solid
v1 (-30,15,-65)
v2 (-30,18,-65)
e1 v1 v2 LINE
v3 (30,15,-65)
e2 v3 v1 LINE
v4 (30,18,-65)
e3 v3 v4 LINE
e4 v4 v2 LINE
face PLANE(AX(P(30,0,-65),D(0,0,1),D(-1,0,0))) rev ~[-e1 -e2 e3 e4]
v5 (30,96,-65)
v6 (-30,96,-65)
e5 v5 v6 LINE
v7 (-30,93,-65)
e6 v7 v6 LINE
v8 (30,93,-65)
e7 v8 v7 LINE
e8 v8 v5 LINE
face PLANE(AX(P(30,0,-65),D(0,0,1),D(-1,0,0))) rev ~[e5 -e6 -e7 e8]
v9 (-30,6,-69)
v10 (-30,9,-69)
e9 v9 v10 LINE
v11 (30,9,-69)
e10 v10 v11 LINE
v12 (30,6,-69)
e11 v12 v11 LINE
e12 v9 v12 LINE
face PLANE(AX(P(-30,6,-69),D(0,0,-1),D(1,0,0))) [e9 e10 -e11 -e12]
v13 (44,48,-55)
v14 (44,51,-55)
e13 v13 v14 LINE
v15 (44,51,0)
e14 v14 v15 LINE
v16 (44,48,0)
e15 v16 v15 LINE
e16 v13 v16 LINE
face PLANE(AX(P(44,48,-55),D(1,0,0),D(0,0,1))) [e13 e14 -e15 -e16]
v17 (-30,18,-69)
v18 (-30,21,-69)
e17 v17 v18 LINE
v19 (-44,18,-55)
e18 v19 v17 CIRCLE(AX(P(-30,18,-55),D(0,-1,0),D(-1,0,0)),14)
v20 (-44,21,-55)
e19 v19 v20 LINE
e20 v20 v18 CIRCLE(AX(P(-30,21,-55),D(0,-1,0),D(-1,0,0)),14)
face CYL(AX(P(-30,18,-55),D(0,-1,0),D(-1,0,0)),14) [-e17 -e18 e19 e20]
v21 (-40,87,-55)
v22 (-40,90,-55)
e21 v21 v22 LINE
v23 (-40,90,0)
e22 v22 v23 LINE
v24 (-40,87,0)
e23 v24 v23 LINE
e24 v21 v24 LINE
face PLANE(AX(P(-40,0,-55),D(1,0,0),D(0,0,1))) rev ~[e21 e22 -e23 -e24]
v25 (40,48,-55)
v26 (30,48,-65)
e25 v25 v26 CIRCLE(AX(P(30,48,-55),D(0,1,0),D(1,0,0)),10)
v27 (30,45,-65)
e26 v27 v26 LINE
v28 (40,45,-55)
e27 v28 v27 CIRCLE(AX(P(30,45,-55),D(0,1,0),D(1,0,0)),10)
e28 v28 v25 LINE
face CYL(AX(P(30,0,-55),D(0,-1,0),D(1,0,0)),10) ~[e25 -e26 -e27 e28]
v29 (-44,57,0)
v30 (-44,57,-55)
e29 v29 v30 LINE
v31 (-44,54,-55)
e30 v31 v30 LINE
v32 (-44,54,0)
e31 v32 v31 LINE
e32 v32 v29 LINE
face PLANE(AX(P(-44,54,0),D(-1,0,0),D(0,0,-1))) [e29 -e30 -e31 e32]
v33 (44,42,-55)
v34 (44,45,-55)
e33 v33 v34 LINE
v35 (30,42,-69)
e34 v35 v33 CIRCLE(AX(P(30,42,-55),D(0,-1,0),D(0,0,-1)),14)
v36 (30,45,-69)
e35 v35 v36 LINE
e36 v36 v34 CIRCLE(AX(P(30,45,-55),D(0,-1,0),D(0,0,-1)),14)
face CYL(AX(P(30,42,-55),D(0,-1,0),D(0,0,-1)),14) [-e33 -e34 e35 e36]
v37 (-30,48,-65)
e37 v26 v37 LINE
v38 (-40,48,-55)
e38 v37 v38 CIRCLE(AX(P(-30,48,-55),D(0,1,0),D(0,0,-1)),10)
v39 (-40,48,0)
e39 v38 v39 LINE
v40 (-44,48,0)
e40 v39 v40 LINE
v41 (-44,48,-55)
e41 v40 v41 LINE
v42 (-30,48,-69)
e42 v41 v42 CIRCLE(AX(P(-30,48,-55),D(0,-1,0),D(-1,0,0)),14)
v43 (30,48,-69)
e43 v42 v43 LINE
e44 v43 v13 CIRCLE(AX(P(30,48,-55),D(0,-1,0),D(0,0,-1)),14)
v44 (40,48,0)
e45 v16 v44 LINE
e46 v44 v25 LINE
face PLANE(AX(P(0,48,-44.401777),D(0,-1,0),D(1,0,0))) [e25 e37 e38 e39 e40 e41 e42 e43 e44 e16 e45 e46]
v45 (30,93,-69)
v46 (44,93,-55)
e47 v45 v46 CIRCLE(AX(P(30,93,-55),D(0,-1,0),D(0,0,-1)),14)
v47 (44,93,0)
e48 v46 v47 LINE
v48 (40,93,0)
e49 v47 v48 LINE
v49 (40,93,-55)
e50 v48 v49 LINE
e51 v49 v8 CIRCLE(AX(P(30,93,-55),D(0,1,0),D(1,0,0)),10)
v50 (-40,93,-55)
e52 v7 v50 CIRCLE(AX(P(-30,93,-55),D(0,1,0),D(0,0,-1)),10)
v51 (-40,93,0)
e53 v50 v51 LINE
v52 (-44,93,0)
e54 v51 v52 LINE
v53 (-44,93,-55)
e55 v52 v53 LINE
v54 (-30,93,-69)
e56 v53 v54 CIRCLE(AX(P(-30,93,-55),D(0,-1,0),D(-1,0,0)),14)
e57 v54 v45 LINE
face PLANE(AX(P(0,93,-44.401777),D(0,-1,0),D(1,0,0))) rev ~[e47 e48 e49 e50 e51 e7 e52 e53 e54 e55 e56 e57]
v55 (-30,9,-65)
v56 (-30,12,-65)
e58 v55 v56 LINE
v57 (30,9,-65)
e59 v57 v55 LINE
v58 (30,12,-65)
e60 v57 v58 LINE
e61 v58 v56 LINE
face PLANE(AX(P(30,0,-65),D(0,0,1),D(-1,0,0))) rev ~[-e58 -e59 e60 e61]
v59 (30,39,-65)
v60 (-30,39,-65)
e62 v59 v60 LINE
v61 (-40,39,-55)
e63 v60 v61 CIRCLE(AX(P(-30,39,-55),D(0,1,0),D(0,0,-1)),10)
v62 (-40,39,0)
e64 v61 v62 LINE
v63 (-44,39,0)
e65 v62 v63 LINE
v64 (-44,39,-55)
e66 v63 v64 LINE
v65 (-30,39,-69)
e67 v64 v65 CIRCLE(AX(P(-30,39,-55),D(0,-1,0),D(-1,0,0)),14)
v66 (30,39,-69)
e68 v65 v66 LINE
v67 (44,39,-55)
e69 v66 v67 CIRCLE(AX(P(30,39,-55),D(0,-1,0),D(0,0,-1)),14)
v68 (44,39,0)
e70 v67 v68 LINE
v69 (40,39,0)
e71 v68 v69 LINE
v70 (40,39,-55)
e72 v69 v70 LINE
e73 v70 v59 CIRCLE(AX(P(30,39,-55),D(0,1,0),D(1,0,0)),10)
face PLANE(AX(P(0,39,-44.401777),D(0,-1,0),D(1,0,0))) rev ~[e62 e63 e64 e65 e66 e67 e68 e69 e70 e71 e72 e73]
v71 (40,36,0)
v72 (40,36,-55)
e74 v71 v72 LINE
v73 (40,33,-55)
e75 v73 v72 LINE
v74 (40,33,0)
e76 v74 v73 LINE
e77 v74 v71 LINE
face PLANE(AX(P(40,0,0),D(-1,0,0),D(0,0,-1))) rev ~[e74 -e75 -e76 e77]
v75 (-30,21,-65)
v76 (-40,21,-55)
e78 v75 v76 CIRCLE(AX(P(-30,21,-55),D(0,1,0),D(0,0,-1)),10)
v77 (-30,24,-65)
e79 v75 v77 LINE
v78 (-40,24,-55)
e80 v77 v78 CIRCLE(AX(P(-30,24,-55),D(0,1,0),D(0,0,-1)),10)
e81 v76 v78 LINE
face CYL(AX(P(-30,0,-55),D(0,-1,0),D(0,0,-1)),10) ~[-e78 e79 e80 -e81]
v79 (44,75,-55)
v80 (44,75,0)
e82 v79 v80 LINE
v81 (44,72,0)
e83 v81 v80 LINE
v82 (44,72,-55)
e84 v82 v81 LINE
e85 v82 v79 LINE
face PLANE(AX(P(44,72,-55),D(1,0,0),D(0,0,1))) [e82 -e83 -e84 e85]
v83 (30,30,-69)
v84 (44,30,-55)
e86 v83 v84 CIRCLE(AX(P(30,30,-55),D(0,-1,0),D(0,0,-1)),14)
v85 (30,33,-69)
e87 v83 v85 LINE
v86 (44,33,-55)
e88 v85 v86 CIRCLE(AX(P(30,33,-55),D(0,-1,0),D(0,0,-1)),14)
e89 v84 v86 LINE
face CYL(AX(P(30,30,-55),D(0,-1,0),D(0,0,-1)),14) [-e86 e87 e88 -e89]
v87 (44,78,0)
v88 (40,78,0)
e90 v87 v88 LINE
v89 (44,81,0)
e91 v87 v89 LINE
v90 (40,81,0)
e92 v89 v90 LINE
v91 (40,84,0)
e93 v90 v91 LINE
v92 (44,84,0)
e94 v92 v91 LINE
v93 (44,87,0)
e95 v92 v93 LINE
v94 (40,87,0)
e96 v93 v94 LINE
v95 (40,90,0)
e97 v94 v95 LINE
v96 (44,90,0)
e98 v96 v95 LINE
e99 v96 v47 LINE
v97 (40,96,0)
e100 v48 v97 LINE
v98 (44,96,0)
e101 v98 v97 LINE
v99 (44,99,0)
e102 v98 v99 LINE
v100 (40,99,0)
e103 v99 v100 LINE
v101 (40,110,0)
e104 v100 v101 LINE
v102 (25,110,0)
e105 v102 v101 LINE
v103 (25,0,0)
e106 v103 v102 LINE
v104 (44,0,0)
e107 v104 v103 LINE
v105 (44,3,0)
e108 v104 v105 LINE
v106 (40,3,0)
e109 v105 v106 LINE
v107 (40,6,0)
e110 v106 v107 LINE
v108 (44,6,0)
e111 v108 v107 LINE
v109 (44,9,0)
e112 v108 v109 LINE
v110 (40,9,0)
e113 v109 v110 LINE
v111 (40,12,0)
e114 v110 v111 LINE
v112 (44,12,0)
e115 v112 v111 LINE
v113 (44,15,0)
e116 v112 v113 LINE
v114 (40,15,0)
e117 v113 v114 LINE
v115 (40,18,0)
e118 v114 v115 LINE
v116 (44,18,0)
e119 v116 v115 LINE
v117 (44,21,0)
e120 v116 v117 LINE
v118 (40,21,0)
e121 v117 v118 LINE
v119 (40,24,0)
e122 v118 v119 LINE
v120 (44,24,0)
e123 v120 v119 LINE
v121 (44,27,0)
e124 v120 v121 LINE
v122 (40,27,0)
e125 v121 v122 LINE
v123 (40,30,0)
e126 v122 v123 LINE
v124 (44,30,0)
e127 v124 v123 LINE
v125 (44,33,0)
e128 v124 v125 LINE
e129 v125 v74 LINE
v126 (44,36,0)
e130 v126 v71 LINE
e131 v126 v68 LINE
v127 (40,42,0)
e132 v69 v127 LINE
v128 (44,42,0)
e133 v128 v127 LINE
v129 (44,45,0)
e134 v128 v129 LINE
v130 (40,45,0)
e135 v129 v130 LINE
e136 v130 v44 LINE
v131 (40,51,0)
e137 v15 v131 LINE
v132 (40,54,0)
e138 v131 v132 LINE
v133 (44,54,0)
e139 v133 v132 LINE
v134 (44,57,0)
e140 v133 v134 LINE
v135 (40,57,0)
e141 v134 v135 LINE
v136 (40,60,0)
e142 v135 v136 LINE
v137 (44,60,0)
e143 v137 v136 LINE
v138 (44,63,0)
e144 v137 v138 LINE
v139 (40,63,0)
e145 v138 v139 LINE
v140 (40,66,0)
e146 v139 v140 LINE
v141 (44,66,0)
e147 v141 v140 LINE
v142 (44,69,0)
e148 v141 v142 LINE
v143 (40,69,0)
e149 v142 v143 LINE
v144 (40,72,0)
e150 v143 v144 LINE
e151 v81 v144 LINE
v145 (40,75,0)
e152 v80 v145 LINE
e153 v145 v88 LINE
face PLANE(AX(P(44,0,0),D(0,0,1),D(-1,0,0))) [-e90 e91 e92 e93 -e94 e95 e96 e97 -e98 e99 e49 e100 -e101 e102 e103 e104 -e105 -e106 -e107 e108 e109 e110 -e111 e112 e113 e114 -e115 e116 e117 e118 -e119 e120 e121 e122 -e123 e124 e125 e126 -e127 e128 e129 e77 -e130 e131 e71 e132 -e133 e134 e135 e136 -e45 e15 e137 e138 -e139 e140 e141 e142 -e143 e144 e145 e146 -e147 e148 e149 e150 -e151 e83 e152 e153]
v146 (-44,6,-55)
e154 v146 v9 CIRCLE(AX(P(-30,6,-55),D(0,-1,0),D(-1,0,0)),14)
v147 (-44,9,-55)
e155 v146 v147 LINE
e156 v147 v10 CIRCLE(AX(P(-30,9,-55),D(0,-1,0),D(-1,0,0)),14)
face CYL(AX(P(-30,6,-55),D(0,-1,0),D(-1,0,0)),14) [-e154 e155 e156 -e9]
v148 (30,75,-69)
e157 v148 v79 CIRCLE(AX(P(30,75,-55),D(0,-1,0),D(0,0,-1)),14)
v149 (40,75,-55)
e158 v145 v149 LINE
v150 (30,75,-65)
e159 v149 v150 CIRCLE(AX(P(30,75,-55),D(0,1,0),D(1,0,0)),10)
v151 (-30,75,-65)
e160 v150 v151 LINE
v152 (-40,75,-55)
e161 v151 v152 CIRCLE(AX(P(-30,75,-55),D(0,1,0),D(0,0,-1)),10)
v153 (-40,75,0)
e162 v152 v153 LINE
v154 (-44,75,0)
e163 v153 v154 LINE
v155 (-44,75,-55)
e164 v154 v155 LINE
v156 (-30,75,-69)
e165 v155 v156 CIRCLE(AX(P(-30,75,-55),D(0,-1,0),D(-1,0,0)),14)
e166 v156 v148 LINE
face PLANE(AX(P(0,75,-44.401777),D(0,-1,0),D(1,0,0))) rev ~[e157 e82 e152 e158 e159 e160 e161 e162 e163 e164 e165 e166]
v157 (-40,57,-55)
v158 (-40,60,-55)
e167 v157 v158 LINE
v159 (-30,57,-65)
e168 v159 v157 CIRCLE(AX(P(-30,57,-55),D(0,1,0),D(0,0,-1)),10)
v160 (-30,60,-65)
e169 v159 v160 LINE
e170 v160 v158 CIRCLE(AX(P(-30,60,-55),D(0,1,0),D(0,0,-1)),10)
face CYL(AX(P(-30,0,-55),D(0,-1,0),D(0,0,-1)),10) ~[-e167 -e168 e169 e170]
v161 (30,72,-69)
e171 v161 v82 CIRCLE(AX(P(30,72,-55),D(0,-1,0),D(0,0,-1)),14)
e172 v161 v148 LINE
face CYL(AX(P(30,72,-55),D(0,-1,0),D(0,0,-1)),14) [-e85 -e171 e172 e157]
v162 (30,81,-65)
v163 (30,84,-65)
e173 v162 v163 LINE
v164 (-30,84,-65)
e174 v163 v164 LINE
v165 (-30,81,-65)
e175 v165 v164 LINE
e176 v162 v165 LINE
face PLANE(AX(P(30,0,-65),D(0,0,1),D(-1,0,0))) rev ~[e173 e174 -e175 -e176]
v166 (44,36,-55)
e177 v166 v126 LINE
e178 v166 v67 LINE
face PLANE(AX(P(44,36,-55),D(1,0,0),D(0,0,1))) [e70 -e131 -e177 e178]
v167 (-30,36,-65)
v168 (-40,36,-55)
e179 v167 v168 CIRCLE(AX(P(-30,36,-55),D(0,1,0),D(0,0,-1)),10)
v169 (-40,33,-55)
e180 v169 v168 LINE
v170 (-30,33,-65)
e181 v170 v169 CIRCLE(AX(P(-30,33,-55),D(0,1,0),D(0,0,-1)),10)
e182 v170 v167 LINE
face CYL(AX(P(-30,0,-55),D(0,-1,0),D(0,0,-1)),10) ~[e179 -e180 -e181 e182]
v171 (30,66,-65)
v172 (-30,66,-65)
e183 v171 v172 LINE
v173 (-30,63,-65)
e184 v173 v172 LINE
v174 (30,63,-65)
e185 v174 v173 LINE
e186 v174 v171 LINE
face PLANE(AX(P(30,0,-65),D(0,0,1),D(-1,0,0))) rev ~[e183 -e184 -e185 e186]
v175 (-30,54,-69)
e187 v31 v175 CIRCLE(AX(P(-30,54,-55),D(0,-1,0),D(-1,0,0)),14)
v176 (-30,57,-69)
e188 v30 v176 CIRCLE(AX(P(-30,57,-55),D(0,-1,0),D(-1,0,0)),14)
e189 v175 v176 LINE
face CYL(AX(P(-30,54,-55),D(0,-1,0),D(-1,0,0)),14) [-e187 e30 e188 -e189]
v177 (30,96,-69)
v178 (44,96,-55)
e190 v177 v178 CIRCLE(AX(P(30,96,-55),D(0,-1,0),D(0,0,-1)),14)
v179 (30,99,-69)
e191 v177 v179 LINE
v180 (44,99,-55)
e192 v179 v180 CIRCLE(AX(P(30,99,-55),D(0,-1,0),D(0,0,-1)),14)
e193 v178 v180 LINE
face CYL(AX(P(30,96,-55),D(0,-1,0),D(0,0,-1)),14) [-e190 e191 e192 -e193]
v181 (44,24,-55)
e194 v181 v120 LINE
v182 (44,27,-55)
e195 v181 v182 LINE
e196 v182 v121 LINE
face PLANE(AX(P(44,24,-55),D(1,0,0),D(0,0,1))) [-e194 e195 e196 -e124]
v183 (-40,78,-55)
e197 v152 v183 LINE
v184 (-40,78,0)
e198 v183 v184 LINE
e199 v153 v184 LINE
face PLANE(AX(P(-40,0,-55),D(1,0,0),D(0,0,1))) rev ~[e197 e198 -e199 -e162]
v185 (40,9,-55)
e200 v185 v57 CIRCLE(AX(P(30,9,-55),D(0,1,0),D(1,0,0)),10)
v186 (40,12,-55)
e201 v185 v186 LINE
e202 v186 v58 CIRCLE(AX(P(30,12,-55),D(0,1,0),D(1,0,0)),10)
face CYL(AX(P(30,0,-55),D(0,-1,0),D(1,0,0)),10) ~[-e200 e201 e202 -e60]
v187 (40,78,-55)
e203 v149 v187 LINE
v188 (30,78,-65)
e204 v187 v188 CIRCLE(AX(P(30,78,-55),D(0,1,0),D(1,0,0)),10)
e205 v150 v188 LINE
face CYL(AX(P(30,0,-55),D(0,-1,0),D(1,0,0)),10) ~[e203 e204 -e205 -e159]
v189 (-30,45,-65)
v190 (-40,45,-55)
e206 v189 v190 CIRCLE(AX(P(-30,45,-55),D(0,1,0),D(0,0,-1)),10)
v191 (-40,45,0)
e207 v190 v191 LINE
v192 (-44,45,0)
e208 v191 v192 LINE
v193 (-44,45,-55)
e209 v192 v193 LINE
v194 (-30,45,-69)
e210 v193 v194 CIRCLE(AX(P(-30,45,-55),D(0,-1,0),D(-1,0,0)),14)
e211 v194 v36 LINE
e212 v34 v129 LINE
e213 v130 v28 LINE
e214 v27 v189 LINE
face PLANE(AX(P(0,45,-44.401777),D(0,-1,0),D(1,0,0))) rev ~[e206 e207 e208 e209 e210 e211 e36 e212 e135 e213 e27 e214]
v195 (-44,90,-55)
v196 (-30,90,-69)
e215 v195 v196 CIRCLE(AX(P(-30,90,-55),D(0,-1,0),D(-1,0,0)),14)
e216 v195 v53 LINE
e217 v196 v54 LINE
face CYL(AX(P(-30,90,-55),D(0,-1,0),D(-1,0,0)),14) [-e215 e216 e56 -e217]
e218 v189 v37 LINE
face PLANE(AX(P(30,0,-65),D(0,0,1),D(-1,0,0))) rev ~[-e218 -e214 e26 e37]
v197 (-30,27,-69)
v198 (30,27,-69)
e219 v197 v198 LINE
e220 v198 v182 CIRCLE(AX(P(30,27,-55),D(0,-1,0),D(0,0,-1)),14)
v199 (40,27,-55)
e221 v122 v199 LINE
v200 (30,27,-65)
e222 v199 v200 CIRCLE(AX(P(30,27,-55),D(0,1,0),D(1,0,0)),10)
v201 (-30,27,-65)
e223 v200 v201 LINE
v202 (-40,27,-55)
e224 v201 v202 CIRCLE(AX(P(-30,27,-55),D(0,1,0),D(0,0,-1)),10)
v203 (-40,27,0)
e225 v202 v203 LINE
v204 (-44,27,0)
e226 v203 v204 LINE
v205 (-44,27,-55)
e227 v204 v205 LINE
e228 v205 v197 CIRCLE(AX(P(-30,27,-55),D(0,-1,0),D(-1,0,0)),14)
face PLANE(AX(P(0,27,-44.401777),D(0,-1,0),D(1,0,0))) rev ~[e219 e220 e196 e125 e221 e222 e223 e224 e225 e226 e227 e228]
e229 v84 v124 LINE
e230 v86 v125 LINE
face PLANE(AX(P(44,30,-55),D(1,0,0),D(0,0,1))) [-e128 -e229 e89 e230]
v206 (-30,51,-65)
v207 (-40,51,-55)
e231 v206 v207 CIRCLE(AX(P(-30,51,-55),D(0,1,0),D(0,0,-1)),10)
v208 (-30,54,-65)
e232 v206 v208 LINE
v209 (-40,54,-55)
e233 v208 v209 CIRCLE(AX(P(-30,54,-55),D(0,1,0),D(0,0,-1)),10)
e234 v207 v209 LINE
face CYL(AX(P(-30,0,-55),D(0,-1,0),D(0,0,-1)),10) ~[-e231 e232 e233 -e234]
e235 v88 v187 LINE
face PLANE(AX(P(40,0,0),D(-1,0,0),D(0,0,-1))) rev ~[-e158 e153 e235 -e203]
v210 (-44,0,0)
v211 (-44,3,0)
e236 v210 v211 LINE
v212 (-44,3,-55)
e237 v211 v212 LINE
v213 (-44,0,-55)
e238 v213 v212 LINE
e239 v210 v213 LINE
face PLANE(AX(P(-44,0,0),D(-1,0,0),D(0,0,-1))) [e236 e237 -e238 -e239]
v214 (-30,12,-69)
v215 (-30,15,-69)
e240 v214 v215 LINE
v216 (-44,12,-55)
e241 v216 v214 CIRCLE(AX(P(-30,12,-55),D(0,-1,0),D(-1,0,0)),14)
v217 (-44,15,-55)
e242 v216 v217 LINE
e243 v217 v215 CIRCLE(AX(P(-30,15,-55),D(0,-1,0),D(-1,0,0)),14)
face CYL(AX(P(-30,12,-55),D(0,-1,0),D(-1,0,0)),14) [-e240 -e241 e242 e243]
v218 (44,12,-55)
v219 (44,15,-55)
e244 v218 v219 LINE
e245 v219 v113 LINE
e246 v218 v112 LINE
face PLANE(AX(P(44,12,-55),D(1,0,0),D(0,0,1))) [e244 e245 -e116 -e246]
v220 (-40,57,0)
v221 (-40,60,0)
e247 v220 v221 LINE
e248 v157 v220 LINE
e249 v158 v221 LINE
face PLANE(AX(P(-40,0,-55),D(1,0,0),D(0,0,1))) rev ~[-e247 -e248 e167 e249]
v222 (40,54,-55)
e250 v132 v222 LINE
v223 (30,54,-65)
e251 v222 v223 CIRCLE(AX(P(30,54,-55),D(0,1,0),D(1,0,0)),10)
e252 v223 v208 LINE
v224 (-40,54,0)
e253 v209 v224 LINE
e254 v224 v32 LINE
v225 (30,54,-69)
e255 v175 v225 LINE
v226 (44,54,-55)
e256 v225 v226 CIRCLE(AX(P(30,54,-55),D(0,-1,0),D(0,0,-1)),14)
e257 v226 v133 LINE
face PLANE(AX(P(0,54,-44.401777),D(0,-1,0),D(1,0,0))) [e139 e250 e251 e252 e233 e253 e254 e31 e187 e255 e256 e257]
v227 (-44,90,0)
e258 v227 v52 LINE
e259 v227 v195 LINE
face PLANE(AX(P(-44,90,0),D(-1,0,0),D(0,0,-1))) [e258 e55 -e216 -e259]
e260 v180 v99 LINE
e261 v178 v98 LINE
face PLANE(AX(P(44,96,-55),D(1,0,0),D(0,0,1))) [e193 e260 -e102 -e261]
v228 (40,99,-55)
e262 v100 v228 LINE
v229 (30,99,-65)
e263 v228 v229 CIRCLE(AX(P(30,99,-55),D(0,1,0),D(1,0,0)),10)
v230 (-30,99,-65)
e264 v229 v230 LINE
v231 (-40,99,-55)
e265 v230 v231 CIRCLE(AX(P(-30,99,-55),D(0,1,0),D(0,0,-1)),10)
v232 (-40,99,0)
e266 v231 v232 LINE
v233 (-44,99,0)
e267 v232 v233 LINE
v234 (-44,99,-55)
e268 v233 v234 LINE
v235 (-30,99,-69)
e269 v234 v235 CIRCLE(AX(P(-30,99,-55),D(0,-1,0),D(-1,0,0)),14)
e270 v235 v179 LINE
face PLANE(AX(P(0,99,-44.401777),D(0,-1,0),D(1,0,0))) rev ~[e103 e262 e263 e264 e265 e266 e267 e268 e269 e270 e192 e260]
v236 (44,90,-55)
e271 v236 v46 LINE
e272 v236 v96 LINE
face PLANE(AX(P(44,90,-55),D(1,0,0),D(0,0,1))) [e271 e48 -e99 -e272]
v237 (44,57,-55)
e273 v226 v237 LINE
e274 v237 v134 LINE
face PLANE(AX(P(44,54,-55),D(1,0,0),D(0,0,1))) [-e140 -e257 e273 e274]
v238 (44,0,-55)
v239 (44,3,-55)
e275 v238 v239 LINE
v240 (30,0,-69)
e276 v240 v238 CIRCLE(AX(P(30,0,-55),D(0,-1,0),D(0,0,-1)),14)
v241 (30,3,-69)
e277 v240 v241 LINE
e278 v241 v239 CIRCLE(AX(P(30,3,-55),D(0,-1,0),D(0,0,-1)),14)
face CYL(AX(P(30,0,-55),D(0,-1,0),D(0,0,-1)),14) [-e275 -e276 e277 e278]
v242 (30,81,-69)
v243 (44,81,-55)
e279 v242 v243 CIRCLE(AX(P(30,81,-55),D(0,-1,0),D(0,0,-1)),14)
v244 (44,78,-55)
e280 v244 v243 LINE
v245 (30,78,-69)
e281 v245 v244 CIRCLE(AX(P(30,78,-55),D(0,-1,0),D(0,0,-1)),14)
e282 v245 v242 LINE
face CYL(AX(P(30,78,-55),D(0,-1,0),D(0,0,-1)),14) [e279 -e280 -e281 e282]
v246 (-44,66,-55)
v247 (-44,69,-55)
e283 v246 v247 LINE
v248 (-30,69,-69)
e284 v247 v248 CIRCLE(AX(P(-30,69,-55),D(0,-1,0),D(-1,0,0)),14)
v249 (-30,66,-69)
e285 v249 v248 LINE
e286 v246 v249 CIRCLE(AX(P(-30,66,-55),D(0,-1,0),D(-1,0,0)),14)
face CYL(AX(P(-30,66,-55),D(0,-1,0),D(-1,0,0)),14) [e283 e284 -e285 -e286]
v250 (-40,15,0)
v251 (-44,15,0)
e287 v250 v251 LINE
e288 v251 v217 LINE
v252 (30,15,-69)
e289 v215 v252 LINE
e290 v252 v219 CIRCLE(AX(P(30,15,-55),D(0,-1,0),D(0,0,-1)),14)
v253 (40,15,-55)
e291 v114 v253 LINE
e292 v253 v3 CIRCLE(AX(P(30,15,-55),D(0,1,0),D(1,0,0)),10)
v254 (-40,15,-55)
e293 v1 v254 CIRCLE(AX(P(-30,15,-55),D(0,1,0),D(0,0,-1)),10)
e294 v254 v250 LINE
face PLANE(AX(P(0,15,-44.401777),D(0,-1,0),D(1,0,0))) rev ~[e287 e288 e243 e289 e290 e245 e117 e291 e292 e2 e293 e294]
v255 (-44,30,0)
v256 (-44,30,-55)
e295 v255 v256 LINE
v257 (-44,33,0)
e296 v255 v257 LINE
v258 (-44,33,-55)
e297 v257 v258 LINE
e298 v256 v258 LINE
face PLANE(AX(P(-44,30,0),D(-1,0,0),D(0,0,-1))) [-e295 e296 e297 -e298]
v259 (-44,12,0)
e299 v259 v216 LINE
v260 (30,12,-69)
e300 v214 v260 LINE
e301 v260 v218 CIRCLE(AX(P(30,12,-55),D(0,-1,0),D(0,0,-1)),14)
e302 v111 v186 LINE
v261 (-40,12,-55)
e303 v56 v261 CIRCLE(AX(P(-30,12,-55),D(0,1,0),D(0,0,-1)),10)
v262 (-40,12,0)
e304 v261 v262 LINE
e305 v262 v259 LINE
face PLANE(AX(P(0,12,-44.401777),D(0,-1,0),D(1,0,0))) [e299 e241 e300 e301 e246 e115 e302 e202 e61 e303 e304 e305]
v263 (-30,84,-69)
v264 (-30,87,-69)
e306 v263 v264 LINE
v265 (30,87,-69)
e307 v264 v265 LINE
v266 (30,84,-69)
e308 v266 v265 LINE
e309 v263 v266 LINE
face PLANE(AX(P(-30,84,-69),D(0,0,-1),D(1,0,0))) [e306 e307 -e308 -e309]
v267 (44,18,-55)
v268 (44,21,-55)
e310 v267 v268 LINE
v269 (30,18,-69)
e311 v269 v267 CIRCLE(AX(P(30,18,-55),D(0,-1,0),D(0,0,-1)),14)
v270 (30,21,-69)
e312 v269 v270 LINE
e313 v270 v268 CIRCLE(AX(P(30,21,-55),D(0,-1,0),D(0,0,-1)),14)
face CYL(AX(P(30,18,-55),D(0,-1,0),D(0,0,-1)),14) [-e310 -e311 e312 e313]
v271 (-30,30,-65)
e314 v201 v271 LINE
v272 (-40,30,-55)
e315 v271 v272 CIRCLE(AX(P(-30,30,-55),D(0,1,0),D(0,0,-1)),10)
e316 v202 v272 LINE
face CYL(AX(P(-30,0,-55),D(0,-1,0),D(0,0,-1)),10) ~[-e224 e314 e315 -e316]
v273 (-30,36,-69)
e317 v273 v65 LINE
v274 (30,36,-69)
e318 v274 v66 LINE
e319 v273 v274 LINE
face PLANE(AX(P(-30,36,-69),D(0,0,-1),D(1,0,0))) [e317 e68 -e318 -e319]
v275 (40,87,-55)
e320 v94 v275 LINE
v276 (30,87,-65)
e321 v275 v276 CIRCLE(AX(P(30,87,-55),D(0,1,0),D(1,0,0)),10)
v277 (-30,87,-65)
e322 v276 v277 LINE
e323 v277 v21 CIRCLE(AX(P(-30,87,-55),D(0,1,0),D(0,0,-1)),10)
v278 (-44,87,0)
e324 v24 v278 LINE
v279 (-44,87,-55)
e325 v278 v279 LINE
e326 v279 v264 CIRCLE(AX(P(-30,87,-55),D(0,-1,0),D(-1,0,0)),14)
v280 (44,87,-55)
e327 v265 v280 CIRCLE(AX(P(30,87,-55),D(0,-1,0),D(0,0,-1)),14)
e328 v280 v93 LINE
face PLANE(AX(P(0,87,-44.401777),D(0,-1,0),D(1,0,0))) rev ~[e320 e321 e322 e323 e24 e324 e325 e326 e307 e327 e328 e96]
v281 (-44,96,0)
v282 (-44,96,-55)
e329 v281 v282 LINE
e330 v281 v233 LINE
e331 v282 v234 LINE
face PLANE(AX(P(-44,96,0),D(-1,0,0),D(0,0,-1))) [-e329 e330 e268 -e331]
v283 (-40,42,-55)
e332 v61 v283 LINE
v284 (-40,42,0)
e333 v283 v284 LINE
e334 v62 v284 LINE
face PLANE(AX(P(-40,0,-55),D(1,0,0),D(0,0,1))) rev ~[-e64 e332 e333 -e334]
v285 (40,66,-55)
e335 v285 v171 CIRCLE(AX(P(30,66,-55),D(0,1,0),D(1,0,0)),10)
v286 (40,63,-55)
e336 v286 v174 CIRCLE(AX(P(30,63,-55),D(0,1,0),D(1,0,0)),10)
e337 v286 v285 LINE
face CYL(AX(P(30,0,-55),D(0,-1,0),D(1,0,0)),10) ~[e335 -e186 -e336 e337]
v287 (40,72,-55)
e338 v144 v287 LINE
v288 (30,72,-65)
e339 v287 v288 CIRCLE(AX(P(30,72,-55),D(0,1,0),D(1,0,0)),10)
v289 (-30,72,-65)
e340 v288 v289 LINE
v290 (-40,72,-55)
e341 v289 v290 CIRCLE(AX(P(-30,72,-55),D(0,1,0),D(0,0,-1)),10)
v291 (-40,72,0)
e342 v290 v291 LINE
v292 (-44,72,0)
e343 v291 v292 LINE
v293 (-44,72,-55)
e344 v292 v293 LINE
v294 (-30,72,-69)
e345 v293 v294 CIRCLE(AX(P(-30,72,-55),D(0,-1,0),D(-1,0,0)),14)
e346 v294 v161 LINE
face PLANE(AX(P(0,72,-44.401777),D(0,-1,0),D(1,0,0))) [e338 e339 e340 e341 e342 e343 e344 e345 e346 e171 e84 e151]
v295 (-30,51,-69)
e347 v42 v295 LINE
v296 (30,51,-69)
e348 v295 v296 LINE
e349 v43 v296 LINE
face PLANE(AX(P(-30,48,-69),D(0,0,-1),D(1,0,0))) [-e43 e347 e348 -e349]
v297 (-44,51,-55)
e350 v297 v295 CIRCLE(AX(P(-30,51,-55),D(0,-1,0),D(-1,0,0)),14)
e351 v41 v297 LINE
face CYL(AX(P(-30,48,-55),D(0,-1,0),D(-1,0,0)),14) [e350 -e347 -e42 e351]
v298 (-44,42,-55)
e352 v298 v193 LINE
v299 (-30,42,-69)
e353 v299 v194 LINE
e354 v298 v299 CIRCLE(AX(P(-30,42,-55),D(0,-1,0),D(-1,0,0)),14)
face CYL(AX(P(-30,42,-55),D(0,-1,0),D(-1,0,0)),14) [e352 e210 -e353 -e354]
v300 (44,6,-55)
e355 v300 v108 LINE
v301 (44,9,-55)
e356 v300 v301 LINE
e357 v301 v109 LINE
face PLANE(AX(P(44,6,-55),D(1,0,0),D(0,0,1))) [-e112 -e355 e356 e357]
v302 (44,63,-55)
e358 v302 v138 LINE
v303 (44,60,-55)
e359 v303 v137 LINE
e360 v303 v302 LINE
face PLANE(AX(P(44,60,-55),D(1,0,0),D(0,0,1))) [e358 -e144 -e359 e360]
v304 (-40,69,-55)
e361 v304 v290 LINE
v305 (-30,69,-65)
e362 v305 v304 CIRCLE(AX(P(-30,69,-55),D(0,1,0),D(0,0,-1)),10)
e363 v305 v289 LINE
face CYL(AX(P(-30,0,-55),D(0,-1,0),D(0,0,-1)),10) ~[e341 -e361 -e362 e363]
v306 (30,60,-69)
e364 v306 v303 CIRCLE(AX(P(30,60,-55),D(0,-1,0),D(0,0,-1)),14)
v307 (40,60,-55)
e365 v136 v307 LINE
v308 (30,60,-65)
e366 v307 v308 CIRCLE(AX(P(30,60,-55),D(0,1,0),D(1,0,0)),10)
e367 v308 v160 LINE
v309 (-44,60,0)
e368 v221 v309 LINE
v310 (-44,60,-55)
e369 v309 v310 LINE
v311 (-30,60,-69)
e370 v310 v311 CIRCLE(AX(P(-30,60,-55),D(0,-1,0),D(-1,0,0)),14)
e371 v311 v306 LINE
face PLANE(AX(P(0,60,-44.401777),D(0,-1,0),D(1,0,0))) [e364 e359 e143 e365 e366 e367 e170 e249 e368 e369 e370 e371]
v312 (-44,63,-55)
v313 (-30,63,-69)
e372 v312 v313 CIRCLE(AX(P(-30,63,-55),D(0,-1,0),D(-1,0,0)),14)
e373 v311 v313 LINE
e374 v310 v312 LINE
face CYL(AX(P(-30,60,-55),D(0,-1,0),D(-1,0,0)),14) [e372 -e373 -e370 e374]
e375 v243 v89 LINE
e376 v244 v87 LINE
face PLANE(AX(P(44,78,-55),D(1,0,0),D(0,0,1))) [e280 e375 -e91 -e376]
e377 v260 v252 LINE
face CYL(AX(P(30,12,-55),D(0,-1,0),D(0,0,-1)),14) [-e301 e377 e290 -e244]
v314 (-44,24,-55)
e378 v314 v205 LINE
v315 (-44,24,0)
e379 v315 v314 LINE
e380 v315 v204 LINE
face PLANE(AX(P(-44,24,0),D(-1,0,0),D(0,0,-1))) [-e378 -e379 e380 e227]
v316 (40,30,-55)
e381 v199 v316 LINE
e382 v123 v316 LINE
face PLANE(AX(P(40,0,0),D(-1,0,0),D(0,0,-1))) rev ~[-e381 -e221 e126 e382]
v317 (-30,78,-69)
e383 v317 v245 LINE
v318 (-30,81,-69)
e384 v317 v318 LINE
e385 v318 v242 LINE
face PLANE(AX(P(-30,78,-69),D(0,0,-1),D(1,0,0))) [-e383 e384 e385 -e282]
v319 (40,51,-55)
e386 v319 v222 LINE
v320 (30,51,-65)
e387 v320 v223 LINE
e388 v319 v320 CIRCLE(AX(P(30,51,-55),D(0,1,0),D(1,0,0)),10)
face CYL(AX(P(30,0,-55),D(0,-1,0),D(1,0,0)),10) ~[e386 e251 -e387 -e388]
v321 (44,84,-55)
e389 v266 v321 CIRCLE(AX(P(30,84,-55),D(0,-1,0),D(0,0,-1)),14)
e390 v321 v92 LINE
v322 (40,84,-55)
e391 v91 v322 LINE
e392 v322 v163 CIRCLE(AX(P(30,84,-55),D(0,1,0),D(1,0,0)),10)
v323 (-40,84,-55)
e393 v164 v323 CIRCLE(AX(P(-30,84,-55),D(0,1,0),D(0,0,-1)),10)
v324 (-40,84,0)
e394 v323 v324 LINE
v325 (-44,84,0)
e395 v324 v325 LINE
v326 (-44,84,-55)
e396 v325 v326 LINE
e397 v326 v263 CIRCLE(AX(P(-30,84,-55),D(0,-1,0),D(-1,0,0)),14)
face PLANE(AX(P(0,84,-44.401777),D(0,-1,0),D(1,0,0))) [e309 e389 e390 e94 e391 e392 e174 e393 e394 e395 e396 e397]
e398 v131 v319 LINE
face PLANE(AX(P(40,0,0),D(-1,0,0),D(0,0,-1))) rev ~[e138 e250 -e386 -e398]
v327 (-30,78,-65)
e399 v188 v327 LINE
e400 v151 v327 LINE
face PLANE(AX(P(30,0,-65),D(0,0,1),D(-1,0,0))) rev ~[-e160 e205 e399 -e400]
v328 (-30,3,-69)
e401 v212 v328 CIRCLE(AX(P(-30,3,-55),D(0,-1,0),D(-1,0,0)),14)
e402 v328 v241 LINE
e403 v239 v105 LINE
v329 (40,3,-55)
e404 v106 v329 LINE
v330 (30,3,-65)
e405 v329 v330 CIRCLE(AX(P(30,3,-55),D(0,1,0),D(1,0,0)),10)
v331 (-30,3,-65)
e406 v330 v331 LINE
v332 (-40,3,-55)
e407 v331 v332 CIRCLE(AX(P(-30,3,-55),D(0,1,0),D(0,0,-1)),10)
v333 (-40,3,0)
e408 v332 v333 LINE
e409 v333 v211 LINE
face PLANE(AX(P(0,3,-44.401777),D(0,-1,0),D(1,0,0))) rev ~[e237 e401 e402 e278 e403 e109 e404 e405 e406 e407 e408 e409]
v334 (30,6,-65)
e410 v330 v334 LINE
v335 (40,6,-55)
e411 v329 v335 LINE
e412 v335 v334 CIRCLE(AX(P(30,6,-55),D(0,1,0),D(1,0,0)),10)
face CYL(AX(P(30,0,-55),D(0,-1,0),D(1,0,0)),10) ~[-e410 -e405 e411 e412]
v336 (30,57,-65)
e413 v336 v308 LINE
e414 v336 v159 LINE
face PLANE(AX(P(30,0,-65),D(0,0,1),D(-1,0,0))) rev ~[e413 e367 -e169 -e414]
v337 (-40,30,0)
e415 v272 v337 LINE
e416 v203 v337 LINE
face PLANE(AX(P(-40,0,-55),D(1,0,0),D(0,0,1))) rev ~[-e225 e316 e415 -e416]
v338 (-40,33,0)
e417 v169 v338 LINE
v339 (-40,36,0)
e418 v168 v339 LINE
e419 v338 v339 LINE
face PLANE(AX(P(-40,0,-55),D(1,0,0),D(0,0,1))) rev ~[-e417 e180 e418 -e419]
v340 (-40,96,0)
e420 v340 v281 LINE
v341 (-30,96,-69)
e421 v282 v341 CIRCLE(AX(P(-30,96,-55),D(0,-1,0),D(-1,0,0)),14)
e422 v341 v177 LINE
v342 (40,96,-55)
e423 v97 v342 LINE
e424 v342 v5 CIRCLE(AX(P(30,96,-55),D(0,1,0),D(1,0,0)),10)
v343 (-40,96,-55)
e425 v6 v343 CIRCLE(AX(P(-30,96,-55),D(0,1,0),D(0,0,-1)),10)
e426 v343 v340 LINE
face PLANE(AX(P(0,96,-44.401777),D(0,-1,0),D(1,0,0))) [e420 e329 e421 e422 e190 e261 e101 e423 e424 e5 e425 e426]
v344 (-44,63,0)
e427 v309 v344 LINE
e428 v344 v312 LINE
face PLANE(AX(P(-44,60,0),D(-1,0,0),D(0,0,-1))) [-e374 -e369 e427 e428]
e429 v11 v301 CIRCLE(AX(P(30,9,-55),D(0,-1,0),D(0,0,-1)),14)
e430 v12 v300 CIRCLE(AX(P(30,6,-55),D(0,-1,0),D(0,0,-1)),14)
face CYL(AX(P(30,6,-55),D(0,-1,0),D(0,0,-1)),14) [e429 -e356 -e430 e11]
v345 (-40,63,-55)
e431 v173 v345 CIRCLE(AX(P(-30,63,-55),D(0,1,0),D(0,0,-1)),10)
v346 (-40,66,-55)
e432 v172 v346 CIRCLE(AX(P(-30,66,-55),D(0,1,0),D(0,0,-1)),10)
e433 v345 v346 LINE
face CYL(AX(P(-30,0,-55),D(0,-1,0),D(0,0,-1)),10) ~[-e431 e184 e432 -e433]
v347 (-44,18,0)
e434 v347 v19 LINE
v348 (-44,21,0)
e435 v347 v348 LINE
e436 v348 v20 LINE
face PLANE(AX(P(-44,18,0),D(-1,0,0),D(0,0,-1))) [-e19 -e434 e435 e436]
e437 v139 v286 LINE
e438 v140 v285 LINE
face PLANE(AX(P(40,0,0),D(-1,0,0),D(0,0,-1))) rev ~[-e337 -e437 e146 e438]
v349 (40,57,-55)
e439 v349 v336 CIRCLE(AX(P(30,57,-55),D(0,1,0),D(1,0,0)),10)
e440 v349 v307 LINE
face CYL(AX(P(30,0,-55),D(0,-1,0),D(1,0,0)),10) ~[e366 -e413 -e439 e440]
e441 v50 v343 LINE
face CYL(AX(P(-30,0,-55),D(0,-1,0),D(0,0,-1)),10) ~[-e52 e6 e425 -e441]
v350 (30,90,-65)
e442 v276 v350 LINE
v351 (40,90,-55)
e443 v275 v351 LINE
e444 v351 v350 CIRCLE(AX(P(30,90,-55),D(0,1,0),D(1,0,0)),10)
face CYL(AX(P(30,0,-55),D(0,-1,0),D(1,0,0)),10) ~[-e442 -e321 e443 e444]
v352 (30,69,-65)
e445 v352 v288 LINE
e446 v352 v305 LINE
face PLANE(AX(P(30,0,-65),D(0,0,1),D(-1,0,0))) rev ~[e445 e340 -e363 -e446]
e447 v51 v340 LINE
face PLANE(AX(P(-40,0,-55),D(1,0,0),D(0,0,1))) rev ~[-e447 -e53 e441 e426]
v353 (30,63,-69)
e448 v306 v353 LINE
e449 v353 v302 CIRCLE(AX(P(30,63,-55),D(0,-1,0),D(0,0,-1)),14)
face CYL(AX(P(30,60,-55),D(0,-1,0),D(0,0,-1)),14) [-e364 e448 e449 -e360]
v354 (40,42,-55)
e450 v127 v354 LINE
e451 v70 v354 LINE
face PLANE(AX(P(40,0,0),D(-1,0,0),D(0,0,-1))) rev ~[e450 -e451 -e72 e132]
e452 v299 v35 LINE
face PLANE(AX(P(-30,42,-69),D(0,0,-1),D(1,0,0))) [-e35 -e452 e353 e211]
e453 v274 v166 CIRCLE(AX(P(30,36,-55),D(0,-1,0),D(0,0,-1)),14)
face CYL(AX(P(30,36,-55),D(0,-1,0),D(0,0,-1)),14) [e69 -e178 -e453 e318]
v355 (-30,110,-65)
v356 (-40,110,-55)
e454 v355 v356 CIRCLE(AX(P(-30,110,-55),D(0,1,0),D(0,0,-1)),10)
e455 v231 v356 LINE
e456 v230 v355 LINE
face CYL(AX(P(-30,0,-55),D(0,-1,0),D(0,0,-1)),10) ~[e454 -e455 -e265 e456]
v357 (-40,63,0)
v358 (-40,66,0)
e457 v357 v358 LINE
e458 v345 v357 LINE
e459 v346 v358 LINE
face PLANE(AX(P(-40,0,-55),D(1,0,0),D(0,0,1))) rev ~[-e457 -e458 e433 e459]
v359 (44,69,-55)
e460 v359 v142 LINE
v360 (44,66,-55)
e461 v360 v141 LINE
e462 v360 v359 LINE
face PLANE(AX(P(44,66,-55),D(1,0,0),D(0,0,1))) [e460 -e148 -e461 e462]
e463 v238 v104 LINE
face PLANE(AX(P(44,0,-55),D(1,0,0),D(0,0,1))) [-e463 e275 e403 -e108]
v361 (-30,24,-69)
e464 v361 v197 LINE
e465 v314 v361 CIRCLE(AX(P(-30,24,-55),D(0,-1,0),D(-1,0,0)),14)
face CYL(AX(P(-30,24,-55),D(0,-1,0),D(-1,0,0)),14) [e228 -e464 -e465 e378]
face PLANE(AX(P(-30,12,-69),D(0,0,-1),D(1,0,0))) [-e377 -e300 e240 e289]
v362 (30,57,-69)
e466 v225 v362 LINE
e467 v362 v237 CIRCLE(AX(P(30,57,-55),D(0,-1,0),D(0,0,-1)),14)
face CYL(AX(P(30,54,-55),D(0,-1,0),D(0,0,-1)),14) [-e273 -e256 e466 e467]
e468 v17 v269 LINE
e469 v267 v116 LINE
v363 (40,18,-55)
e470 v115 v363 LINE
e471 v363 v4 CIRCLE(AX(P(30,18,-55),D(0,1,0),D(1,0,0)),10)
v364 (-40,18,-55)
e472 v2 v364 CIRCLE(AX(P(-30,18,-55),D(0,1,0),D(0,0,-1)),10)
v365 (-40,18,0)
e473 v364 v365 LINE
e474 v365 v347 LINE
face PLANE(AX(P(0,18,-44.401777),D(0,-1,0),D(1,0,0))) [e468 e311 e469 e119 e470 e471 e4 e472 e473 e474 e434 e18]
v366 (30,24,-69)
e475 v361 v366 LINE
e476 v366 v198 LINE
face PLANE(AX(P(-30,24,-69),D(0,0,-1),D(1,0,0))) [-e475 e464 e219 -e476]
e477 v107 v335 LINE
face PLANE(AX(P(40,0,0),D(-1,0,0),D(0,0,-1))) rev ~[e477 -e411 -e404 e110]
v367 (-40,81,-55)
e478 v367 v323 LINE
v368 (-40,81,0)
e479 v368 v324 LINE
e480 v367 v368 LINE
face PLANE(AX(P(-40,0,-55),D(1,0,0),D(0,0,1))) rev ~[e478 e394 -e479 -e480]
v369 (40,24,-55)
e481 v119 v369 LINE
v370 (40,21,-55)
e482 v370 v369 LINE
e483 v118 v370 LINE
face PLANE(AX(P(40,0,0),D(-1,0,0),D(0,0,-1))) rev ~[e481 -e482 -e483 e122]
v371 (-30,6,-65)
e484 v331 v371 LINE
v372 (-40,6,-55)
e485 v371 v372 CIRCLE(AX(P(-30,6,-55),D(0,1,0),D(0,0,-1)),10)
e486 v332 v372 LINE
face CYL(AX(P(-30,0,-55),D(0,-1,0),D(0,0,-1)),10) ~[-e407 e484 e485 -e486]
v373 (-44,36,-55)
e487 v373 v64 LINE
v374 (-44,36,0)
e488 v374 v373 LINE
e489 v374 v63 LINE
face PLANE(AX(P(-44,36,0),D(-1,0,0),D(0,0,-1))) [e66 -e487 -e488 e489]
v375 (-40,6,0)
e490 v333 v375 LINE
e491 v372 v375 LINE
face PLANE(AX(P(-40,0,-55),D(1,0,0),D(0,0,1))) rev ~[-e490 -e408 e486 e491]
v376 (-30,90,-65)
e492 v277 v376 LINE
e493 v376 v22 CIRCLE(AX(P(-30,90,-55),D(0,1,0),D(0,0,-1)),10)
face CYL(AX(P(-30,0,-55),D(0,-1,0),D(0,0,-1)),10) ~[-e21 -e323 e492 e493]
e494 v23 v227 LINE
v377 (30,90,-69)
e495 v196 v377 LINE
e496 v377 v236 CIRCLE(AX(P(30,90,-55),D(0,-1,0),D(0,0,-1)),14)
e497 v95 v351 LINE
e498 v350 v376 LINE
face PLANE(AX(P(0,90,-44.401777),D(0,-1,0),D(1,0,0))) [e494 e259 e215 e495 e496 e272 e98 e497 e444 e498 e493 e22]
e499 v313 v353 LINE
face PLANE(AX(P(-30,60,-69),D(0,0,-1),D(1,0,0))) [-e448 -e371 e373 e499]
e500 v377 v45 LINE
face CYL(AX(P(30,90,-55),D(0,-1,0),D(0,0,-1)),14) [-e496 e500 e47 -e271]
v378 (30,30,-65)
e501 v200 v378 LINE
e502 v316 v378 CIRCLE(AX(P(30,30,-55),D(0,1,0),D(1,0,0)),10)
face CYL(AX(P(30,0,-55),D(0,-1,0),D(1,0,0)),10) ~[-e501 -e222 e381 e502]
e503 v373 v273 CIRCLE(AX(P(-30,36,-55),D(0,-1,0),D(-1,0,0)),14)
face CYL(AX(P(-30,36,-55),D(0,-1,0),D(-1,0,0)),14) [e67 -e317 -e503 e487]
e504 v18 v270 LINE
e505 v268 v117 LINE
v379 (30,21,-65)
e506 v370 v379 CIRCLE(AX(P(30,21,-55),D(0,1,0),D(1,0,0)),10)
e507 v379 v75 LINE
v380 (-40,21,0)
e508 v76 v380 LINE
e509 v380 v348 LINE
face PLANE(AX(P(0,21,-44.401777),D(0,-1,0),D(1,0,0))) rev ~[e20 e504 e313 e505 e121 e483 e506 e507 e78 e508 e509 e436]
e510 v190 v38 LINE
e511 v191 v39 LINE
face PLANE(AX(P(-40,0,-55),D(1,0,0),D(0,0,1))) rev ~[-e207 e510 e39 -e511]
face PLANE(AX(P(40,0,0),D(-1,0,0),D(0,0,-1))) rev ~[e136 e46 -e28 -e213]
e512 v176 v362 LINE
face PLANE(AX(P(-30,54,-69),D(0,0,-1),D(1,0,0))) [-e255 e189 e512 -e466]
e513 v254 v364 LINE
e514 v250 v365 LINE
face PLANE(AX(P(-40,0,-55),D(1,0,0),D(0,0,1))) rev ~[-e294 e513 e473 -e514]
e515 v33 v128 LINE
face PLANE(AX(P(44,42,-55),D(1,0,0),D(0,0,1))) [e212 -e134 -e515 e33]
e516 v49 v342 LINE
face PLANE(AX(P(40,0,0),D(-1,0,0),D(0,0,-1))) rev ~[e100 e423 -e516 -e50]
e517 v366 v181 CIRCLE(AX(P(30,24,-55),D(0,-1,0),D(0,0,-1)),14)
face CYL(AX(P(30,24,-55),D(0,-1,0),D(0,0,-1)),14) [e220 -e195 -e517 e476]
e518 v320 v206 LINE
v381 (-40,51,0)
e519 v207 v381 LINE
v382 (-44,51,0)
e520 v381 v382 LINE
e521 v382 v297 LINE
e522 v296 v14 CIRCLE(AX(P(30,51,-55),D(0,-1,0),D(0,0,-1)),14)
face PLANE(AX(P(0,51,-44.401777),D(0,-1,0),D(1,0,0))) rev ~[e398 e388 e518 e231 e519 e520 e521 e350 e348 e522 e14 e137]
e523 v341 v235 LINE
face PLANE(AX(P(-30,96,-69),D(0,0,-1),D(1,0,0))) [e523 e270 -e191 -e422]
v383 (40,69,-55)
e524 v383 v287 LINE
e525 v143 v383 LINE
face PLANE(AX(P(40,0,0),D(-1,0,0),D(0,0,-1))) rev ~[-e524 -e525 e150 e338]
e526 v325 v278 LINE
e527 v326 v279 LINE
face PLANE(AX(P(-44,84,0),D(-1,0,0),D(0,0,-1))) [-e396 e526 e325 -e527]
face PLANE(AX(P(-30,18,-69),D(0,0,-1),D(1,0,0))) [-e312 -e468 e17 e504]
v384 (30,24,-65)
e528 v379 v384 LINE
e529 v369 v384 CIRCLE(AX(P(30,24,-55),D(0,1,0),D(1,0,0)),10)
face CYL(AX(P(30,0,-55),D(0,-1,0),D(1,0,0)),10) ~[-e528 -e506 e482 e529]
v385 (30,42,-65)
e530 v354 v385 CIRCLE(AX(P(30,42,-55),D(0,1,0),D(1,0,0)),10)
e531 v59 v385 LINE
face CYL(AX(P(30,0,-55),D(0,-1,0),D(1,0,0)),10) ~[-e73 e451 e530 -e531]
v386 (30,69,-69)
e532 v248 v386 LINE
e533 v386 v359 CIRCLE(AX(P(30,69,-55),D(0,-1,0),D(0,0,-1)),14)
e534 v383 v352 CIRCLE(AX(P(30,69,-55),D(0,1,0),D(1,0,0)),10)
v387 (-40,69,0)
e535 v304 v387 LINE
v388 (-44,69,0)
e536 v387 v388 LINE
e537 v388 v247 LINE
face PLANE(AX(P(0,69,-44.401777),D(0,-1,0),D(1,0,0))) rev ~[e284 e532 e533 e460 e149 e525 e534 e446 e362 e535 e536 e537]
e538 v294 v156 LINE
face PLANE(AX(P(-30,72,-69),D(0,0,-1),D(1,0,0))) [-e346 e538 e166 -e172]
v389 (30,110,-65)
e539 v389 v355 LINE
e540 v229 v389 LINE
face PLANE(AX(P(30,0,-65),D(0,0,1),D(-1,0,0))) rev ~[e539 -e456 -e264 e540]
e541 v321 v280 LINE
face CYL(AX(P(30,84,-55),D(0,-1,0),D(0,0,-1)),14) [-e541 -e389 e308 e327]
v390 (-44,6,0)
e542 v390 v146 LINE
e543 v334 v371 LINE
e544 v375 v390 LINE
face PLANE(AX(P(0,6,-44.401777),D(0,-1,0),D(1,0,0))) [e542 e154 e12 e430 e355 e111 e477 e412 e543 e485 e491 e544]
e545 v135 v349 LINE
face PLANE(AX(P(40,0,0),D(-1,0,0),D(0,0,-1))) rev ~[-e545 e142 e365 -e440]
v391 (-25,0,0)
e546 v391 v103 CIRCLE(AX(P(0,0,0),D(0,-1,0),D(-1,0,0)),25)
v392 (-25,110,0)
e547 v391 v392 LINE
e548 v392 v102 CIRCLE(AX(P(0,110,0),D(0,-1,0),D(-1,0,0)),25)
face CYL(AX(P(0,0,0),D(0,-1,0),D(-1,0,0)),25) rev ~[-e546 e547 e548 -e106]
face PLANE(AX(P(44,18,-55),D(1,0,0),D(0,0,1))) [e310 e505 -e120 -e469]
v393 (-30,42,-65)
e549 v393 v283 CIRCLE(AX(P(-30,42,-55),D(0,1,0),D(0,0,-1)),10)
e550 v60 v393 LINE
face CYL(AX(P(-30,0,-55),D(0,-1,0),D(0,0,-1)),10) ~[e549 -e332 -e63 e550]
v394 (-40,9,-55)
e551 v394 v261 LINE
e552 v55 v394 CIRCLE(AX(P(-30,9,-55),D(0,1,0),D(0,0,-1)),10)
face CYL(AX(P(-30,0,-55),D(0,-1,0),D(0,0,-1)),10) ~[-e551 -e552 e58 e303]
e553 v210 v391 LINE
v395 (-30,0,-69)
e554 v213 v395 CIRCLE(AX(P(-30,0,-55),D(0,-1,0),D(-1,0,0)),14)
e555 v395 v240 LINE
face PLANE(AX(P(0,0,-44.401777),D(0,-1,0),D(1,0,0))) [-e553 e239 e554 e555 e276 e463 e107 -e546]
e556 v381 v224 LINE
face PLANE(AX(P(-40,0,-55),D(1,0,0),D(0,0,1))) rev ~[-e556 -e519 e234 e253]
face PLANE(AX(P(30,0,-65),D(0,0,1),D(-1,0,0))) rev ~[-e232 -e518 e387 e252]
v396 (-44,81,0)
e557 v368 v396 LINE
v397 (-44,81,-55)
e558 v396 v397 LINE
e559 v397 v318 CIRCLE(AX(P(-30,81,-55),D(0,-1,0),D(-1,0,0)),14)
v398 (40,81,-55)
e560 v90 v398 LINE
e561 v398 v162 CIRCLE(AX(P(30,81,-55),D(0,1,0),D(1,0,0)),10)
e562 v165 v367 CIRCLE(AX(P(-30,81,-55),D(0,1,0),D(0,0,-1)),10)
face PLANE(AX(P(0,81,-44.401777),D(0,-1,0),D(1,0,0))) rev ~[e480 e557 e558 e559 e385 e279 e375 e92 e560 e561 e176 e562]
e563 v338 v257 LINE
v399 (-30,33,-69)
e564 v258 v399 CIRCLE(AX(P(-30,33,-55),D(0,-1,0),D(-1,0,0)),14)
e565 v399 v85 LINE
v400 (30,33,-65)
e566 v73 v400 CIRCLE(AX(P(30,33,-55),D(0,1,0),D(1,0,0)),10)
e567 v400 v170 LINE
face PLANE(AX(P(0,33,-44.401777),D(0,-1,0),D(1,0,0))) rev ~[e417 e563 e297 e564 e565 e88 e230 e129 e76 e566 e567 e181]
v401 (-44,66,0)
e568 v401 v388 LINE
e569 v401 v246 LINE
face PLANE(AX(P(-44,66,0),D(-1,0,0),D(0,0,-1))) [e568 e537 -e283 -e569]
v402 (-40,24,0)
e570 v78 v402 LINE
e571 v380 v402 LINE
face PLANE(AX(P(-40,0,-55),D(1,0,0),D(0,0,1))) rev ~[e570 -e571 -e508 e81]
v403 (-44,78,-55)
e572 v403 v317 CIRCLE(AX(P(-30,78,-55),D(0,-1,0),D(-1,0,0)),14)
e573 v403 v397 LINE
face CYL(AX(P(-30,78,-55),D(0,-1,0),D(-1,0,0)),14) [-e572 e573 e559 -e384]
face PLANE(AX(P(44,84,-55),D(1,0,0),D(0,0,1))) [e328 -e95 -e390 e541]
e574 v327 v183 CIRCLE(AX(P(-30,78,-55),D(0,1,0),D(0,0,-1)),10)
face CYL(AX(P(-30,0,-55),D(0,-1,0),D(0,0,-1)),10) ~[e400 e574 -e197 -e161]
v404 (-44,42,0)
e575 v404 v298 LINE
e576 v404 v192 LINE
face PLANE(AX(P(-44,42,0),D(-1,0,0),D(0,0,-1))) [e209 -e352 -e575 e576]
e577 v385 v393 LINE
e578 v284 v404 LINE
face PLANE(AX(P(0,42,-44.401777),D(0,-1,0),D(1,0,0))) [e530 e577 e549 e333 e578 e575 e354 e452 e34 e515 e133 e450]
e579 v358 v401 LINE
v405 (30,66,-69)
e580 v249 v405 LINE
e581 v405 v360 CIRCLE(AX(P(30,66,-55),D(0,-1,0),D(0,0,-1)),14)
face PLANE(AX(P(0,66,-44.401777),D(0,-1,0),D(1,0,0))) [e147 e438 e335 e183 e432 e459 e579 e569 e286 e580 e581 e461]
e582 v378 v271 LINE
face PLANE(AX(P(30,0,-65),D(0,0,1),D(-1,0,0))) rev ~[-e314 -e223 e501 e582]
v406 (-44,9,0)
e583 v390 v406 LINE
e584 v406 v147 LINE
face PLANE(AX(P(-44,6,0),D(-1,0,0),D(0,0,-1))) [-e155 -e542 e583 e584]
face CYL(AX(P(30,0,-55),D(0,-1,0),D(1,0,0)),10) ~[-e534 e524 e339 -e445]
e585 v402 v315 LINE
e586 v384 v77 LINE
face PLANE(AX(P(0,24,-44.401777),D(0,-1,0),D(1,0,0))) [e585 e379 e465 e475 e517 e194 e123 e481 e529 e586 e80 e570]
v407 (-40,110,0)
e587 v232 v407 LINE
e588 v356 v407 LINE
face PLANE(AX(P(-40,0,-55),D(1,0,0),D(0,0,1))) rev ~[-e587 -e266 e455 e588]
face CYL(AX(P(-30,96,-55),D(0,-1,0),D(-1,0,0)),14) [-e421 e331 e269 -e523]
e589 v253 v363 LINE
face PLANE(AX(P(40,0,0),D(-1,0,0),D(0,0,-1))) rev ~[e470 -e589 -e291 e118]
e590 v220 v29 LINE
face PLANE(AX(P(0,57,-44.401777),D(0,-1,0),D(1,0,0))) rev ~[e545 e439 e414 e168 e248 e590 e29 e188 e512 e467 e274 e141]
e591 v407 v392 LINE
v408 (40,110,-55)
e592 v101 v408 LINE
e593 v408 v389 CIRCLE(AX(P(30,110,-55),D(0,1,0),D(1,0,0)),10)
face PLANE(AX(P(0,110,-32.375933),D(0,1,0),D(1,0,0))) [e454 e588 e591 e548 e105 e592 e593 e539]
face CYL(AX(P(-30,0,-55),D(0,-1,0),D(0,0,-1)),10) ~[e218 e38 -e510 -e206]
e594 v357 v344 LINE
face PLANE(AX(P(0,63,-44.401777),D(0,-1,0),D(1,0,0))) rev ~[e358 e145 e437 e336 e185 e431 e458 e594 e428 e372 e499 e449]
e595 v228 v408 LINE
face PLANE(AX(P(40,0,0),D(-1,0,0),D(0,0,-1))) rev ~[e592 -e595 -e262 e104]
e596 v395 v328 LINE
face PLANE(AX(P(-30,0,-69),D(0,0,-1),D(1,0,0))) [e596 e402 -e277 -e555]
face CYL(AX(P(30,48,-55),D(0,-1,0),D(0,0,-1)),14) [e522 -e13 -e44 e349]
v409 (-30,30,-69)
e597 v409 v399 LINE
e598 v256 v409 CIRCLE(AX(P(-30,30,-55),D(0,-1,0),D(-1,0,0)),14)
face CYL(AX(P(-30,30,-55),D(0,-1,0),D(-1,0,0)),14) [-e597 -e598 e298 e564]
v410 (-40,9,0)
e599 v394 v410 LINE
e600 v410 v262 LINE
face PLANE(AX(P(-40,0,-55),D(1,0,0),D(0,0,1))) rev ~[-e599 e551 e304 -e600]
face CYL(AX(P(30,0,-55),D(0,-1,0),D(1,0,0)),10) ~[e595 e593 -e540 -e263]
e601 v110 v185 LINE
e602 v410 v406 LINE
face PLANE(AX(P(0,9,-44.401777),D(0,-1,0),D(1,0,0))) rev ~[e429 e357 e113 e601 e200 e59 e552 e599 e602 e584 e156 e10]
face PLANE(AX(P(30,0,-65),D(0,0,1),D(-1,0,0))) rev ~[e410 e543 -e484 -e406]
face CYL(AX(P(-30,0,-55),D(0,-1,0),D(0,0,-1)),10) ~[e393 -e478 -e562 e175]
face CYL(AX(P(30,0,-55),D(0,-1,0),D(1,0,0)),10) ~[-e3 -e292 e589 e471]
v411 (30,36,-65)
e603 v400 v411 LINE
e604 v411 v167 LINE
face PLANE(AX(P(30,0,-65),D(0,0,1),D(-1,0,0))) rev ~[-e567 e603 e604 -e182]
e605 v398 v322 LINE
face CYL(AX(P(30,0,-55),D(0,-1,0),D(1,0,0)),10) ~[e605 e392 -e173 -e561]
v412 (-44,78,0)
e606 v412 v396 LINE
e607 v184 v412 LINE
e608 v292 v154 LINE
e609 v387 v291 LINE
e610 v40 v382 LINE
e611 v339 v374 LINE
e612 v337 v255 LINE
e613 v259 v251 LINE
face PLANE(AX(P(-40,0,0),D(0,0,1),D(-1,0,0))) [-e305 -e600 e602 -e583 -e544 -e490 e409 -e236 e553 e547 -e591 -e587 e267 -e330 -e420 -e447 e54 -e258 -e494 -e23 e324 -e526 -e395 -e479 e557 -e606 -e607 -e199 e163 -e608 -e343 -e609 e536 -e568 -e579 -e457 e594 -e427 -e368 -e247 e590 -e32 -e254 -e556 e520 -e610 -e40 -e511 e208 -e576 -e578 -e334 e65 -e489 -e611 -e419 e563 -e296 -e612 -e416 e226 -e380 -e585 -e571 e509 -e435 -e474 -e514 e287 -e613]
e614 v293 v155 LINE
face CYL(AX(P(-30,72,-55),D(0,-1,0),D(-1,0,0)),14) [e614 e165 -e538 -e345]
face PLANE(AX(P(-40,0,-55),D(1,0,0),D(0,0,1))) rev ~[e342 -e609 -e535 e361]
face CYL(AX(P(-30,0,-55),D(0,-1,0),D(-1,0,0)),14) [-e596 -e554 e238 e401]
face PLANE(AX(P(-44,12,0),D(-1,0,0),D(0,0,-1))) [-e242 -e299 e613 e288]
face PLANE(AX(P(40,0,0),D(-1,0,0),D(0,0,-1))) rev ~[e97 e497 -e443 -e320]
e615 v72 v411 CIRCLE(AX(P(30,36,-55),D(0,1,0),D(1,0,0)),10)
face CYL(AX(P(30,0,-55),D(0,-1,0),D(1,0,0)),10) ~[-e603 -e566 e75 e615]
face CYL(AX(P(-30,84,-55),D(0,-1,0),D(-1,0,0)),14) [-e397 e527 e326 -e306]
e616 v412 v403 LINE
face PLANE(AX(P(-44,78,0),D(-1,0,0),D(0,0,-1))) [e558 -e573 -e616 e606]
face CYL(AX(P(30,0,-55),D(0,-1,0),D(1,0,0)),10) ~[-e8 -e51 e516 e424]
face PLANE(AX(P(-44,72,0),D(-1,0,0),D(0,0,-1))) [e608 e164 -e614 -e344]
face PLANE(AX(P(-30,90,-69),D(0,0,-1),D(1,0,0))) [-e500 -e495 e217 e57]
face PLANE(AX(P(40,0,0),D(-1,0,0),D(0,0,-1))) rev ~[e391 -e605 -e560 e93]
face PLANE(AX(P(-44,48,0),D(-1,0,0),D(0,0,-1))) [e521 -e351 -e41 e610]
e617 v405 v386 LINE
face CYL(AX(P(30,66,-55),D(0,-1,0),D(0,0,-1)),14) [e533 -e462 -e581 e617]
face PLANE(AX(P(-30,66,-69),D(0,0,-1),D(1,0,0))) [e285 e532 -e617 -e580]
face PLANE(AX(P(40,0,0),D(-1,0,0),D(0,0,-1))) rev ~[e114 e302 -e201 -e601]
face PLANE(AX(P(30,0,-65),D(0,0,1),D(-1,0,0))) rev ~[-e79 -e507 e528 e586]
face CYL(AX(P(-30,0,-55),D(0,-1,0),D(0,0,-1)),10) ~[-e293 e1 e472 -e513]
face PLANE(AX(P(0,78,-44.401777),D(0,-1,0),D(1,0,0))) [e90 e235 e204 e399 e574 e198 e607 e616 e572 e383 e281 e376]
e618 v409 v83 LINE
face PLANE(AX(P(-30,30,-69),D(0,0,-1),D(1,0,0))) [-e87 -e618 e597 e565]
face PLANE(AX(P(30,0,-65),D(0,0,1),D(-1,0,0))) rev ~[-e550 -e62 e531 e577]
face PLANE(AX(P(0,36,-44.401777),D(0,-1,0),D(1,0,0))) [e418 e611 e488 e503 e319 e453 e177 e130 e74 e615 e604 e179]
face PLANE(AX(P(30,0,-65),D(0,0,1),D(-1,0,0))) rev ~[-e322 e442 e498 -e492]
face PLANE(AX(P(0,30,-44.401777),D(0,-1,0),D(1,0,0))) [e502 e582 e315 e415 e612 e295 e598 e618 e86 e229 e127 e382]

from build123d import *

# Parameters (mm, degrees)
BOSS_EXTRUDE2_DEPTH = 110
BOSS_EXTRUDE4_DEPTH = 3
LPATTERN1_COUNT     = 17
LPATTERN1_PITCH     = 6


with BuildPart() as part:
    # Sketch1 → Boss-Extrude2 (new body)
    with BuildSketch(Plane(origin=(0, 0, 0), x_dir=(1, 0, 0), z_dir=(0, 1, 0))):
        with BuildLine():
            Line((25, 0), (40, 0))
            Line((40, 0), (40, 55))
            ThreePointArc((40, 55), (37.071067812, 62.071067812), (30, 65))
            Line((30, 65), (-30, 65))
            ThreePointArc((-30, 65), (-37.071067812, 62.071067812), (-40, 55))
            Line((-40, 55), (-40, 0))
            Line((-40, 0), (-25, 0))
            ThreePointArc((-25, 0), (0, 25), (25, 0))
        make_face()
    extrude(amount=BOSS_EXTRUDE2_DEPTH)

    # Sketch3 → Boss-Extrude4 (add)
    with BuildSketch(Plane.XZ):
        with BuildLine():
            Line((-44, 0), (-44, -55))
            ThreePointArc((-44, -55), (-39.899494937, -64.899494937), (-30, -69))
            Line((-30, -69), (30, -69))
            ThreePointArc((30, -69), (39.899494937, -64.899494937), (44, -55))
            Line((44, -55), (44, 0))
            Line((44, 0), (40, 0))
            Line((40, 0), (40, -55))
            ThreePointArc((40, -55), (37.071067812, -62.071067812), (30, -65))
            Line((30, -65), (-30, -65))
            ThreePointArc((-30, -65), (-37.071067812, -62.071067812), (-40, -55))
            Line((-40, -55), (-40, 0))
            Line((-40, 0), (-44, 0))
        make_face()
    boss_extrude4 = extrude(amount=-BOSS_EXTRUDE4_DEPTH)

    # LPattern1: Boss-Extrude4 ×17
    with Locations(*[(0, i * LPATTERN1_PITCH, 0) for i in range(1, LPATTERN1_COUNT)]):
        add(boss_extrude4)


solid = part.part
